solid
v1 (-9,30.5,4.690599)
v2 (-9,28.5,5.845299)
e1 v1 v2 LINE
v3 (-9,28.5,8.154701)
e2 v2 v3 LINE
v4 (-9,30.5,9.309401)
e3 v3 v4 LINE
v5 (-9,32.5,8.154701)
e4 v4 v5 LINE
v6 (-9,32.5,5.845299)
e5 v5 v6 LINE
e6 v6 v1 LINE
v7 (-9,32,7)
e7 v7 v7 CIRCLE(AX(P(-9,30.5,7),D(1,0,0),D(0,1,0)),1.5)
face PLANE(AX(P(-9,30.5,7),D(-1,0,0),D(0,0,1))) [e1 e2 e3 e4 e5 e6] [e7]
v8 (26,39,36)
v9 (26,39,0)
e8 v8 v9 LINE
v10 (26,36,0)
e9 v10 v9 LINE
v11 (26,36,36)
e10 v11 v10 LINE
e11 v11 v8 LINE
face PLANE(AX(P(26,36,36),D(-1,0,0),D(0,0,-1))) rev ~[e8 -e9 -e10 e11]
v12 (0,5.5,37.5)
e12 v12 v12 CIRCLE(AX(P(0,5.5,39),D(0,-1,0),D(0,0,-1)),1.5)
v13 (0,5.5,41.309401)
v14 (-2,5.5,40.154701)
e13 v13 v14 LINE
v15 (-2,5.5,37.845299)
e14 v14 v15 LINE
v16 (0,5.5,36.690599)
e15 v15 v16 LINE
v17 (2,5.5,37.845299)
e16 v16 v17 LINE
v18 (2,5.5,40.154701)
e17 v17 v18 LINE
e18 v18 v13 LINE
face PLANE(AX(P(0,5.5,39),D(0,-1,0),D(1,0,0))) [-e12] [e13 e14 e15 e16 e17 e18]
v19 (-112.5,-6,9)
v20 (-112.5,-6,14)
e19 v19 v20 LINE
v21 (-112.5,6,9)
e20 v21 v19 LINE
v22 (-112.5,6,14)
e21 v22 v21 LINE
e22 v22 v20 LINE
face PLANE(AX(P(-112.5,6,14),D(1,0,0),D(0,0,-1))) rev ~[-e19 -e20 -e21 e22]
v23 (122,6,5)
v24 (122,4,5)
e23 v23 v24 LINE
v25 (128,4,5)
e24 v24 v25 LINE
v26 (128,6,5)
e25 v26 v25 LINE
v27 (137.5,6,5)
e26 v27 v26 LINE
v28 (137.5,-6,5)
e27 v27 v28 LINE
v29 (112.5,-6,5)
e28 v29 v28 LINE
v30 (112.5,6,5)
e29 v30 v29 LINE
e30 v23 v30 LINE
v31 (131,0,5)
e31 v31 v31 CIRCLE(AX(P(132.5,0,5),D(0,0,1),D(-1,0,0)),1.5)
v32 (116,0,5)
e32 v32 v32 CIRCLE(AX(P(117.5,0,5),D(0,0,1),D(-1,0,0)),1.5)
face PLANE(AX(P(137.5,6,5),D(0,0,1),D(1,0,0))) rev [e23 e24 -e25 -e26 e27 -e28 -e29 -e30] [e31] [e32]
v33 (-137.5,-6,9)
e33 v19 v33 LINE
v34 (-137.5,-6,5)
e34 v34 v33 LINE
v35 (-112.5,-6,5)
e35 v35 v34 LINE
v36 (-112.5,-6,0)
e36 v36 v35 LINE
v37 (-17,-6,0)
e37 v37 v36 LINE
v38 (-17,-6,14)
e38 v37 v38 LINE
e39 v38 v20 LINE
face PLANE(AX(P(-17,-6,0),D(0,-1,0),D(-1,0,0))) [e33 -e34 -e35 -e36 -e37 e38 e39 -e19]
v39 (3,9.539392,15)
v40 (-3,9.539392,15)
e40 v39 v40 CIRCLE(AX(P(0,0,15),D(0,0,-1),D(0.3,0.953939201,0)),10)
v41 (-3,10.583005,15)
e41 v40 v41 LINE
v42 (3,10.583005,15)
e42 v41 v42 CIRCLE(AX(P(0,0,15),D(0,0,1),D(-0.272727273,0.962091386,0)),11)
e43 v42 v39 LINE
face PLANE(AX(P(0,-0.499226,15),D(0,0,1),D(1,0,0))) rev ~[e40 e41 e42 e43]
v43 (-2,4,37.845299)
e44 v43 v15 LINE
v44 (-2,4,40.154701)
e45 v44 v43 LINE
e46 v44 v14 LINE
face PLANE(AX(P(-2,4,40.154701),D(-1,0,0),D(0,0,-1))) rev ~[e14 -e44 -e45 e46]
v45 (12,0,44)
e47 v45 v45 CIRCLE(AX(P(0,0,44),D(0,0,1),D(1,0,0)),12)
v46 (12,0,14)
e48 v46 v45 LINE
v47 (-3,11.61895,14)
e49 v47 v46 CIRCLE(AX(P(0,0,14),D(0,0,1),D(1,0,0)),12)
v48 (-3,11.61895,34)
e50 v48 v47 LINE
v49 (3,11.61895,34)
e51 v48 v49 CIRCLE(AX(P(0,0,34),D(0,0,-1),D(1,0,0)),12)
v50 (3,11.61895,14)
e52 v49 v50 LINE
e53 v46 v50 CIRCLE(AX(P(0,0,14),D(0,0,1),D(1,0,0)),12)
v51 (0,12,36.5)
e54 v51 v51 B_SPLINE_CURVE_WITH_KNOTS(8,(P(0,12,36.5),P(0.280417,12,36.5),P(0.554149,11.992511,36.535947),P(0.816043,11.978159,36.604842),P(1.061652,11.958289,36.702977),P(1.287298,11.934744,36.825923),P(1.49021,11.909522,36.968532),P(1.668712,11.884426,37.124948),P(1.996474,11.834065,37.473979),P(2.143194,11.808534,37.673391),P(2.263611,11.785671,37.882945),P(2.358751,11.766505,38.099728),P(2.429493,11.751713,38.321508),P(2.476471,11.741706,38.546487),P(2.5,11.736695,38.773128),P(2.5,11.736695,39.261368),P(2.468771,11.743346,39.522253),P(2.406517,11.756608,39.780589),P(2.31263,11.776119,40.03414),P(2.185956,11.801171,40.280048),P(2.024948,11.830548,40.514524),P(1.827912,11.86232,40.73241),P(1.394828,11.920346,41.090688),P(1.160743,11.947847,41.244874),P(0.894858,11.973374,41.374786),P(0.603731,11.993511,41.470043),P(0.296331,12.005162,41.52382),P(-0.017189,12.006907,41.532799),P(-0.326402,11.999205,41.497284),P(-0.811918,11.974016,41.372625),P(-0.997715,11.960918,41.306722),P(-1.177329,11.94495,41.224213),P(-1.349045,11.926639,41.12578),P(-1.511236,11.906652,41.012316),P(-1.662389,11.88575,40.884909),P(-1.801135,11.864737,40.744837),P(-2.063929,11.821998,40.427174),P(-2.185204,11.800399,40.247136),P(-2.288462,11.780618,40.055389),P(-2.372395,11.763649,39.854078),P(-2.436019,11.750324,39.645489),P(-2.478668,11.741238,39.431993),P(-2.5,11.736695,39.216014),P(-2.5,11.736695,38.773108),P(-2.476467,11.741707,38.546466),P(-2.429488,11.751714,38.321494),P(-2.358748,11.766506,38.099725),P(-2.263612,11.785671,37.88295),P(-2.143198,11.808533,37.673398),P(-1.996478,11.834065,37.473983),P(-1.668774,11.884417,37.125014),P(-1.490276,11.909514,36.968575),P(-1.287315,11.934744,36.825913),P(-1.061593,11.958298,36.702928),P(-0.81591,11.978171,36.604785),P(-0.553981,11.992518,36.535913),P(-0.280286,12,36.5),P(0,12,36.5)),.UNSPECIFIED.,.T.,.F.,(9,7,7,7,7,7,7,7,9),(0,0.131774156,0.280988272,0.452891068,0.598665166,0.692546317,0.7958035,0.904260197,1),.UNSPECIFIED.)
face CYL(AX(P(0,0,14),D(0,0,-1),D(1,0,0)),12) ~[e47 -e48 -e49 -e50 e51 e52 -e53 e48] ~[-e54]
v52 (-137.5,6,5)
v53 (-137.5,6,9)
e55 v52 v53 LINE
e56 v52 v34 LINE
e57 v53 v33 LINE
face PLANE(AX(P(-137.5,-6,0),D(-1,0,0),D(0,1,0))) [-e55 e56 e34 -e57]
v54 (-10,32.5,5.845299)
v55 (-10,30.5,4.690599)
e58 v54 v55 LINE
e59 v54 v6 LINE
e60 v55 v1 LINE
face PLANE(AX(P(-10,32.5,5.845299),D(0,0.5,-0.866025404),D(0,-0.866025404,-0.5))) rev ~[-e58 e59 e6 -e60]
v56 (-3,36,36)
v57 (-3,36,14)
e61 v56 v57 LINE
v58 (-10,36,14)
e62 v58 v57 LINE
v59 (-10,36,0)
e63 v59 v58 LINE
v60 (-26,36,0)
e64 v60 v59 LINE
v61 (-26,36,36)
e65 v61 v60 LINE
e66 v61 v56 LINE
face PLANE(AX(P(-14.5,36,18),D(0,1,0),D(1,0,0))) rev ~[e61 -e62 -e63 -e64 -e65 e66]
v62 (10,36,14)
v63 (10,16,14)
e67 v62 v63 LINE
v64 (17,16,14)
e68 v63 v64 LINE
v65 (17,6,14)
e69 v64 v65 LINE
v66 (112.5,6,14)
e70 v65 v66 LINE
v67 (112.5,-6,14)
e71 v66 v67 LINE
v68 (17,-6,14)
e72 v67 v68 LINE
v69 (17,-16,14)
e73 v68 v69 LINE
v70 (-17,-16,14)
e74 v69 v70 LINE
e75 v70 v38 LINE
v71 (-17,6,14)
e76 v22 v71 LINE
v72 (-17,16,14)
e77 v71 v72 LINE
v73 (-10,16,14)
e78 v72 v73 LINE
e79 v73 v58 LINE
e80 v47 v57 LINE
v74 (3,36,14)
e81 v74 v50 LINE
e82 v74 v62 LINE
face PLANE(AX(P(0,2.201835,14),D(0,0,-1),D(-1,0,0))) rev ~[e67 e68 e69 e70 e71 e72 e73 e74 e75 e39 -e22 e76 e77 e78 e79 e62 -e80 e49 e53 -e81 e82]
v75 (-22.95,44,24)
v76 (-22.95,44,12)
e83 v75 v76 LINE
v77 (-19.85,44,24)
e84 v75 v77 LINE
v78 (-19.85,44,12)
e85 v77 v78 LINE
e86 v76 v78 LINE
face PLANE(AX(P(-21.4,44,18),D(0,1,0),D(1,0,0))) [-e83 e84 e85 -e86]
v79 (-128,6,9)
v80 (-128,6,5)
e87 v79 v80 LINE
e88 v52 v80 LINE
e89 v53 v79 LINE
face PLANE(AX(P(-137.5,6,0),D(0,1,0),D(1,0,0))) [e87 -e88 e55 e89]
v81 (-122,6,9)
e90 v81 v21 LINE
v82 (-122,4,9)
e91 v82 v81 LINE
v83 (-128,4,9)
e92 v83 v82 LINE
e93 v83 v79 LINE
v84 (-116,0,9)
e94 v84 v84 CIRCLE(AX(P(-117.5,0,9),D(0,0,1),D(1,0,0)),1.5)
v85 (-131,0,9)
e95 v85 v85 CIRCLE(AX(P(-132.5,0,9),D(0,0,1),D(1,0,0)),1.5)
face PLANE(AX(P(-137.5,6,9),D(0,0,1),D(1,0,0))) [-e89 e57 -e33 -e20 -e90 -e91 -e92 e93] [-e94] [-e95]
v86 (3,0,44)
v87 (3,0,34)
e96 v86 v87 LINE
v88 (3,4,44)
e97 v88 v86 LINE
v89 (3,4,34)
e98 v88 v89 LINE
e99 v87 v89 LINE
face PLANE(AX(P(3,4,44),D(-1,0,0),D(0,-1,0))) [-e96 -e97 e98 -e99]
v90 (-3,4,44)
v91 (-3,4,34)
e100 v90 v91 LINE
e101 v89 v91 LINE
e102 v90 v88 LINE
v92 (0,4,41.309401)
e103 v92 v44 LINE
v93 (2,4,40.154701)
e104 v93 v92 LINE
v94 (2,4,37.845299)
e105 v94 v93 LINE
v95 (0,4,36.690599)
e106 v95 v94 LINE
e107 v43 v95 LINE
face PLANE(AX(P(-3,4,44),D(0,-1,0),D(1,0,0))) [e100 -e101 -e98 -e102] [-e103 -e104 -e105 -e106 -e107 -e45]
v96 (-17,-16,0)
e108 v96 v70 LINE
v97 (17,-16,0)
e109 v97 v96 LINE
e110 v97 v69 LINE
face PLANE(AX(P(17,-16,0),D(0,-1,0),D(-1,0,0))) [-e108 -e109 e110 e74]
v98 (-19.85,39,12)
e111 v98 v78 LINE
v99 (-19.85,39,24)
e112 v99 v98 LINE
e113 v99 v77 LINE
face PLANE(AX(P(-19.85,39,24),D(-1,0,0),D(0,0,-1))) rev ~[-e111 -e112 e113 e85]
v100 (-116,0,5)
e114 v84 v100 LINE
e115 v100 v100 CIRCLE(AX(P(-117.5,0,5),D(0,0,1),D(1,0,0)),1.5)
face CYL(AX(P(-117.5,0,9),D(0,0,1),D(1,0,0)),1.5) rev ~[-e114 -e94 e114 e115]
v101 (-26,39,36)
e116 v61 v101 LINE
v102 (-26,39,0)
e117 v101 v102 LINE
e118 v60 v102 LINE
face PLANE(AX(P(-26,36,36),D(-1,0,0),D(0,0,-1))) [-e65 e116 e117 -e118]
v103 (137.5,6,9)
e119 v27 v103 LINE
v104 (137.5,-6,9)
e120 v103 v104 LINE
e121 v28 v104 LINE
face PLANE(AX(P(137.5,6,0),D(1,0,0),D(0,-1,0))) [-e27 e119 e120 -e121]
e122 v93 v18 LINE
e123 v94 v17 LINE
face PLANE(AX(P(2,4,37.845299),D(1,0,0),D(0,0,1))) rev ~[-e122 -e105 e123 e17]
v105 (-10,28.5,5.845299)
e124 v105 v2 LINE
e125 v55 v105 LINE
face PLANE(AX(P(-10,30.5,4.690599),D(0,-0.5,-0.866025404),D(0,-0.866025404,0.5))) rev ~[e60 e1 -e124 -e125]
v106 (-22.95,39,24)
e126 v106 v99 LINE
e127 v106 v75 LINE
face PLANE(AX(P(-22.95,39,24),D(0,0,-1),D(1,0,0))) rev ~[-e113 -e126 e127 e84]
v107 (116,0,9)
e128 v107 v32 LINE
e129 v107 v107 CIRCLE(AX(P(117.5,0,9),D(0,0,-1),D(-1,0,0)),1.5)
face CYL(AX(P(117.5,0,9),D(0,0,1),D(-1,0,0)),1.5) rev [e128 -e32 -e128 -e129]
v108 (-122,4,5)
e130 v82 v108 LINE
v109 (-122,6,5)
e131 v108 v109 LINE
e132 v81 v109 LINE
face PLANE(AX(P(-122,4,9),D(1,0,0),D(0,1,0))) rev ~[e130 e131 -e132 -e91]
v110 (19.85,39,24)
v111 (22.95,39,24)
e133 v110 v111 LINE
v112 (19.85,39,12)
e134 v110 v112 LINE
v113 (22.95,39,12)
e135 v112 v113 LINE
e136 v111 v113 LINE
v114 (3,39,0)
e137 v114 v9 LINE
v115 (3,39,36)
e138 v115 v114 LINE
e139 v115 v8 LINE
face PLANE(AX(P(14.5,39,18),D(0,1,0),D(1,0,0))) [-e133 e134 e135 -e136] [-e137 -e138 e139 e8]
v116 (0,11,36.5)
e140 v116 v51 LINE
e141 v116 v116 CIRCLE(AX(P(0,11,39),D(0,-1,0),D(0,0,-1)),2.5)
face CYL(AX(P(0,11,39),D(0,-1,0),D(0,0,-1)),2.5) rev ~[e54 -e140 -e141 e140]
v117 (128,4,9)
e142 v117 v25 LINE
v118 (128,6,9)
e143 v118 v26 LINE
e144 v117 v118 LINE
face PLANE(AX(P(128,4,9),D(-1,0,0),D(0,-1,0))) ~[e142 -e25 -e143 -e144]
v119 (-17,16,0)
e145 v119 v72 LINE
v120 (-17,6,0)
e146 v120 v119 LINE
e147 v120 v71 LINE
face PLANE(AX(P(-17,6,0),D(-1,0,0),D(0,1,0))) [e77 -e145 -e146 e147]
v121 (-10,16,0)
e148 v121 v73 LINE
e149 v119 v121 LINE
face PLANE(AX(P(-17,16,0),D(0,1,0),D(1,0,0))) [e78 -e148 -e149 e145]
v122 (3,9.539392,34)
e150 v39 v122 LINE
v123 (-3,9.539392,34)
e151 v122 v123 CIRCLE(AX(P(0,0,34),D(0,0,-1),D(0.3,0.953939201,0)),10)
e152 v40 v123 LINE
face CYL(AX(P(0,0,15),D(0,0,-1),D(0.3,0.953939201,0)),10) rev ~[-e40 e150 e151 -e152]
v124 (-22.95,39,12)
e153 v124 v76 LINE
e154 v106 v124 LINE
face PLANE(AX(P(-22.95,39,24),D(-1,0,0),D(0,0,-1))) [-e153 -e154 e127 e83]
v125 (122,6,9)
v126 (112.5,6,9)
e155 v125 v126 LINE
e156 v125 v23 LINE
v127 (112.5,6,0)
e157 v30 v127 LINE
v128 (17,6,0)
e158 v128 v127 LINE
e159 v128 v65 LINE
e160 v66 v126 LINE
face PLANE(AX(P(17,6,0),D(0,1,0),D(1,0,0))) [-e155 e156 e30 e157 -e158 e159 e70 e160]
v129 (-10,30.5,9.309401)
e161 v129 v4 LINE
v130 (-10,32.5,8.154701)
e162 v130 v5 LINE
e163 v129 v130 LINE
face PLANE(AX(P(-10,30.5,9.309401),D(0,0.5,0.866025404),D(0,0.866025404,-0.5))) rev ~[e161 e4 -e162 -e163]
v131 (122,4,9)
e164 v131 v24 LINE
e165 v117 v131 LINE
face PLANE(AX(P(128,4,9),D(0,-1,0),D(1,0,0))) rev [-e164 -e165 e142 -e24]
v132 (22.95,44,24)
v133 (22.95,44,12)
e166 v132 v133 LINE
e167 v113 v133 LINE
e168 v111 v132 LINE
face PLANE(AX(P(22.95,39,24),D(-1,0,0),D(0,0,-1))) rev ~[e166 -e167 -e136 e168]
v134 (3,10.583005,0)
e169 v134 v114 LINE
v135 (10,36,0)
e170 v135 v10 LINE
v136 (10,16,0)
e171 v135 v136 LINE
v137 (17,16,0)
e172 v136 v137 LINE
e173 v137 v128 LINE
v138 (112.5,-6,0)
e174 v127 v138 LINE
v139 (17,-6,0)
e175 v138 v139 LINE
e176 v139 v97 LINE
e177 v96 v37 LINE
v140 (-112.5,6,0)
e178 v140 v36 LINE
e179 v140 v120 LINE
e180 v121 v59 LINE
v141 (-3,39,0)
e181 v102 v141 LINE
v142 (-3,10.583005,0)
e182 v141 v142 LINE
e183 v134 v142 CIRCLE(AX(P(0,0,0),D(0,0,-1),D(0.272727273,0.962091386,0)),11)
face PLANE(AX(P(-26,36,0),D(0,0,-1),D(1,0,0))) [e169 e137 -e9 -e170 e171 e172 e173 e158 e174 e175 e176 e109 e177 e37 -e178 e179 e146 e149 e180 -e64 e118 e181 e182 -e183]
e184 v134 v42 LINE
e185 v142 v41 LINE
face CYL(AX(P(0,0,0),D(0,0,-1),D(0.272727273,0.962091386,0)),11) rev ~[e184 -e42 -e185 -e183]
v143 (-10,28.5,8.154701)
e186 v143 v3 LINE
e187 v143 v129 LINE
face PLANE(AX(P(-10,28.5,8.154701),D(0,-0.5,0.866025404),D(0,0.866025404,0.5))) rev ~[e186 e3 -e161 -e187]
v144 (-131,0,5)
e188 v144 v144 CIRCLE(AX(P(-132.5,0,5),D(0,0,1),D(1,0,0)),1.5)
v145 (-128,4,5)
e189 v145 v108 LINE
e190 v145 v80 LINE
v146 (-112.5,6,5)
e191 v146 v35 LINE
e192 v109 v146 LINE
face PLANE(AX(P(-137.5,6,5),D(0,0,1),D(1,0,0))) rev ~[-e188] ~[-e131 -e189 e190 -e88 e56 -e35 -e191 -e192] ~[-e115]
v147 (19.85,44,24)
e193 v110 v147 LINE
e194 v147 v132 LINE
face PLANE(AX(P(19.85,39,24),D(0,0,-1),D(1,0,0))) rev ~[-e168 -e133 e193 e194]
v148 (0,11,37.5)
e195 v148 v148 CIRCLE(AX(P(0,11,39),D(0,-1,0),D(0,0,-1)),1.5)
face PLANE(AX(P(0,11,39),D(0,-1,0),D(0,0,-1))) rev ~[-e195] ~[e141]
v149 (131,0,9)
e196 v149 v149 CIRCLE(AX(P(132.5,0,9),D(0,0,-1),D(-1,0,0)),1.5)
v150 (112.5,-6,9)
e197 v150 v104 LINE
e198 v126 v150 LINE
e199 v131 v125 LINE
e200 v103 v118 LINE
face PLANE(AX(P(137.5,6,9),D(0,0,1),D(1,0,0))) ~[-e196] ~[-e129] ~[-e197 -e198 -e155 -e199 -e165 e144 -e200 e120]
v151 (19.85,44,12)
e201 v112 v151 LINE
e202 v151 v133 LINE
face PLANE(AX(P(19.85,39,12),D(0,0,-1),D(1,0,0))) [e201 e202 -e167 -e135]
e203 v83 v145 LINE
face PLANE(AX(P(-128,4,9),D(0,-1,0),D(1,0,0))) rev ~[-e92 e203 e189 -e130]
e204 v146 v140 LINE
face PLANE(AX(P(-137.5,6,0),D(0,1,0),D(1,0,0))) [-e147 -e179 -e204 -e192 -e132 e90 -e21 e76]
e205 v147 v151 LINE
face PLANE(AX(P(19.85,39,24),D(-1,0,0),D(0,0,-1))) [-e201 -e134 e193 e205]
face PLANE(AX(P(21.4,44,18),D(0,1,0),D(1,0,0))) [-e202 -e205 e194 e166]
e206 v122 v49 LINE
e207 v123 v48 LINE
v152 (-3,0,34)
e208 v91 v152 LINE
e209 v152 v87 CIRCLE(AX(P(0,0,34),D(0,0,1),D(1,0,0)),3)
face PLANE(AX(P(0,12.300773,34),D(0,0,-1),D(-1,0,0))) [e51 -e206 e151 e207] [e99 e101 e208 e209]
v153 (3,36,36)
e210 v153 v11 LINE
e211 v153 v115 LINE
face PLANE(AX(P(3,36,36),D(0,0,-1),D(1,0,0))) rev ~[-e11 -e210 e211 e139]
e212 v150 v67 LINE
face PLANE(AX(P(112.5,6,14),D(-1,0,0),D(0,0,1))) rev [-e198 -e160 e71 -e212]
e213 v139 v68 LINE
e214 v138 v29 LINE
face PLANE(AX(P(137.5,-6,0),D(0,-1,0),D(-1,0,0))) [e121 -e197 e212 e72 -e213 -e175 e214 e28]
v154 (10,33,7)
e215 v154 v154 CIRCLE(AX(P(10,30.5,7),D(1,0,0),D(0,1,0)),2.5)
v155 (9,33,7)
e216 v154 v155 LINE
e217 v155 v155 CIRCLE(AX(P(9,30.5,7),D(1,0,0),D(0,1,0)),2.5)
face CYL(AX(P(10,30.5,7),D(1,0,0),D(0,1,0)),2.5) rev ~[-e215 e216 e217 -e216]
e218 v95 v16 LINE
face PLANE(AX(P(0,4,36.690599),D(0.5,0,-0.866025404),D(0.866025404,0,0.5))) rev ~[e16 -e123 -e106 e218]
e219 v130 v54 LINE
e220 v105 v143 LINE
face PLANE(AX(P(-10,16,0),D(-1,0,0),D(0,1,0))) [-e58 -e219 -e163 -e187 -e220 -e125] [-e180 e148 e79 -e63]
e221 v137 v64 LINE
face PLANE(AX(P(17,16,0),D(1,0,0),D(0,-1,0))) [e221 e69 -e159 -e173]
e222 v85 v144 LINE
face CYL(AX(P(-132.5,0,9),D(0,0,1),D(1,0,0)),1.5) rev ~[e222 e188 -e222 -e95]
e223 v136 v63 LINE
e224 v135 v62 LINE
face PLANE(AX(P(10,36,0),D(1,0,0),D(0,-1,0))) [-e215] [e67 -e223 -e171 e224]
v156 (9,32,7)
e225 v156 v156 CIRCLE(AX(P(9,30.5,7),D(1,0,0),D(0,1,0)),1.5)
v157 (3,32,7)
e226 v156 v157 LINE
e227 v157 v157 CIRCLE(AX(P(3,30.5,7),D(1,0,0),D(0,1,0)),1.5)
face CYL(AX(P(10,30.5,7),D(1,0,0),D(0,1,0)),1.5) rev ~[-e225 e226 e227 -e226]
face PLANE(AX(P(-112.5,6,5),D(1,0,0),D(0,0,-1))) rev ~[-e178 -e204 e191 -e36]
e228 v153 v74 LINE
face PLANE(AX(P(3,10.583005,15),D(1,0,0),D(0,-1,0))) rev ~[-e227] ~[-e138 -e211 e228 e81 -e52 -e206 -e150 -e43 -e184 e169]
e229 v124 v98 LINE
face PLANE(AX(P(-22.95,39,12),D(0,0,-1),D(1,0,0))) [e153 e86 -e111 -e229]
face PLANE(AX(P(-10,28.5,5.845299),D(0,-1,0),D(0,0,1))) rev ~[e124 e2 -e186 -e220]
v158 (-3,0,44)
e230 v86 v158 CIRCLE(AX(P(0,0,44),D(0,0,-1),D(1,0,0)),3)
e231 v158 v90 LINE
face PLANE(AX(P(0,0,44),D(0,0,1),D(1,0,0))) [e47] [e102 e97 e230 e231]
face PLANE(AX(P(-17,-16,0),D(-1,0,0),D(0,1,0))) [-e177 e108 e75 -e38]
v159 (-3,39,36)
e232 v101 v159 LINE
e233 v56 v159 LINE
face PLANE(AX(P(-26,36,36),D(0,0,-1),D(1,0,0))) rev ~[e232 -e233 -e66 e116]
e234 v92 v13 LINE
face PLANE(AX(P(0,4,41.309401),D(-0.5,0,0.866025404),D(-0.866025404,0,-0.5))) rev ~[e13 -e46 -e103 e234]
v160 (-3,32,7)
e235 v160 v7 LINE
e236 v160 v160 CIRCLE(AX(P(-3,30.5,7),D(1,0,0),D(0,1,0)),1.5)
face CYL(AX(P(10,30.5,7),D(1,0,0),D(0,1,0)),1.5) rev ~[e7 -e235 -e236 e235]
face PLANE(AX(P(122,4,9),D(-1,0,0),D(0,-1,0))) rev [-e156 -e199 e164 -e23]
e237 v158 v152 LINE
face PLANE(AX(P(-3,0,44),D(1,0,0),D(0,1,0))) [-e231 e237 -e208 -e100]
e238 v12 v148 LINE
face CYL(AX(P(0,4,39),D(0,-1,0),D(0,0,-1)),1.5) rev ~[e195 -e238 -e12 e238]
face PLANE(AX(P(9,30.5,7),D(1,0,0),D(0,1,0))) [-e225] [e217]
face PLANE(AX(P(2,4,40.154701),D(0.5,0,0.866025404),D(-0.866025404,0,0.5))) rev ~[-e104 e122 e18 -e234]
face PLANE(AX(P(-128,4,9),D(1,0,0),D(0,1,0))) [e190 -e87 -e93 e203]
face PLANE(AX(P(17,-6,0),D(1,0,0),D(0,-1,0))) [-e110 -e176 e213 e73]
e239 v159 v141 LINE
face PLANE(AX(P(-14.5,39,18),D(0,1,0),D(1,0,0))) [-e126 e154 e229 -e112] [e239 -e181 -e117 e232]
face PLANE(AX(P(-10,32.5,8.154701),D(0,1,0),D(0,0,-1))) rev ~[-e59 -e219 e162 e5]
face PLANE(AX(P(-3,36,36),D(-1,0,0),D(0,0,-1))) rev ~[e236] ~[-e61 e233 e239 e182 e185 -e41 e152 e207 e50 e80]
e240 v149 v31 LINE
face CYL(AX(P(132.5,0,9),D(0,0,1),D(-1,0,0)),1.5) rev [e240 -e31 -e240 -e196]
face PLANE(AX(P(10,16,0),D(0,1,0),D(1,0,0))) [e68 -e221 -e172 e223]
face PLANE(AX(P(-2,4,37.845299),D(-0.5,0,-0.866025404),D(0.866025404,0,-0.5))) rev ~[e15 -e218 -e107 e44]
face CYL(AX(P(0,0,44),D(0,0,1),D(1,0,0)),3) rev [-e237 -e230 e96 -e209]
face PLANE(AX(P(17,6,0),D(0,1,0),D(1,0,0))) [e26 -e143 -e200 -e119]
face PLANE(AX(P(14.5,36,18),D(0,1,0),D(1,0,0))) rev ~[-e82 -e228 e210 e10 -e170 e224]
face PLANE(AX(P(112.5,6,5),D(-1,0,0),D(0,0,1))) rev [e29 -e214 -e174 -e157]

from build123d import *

# Parameters (mm, degrees)
BOSS_EXTRUDE1_DEPTH = 14
SKETCH2_R           = 12
BOSS_EXTRUDE2_DEPTH = 30
CUT_EXTRUDE2_DEPTH  = 34
BOSS_EXTRUDE3_START = 19
BOSS_EXTRUDE3_DEPTH = 19
CUT_EXTRUDE3_DEPTH  = 149.789280528
SKETCH10_R          = 1.5
CUT_EXTRUDE5_DEPTH  = 148.87241122
CUT_EXTRUDE6_DEPTH  = 1.5
CUT_EXTRUDE7_REACH  = 160.077
SKETCH12_R          = 1.5
SKETCH13_R          = 2.5
CUT_EXTRUDE8_DEPTH  = 1
CUT_EXTRUDE9_DEPTH  = 1
SKETCH15_W          = 25
SKETCH15_H          = 5
CUT_EXTRUDE11_DEPTH = 148.452534766
CUT_EXTRUDE12_START = -5.5
SKETCH17_R          = 2.5
CUT_EXTRUDE12_DEPTH = 143.055074494
SKETCH18_W          = 23
SKETCH18_H          = 36
BOSS_EXTRUDE7_DEPTH = 3
SKETCH19_W          = 3.1
SKETCH19_H          = 12
BOSS_EXTRUDE8_DEPTH = 5
SKETCH21_R          = 1.5
SKETCH21_W          = 6
SKETCH21_H          = 2
CUT_EXTRUDE13_DEPTH = 149.550496489


with BuildPart() as part:
    # Sketch1 → Boss-Extrude1 (new body)
    with BuildSketch(Plane.XY):
        Polygon((10, 16), (17, 16), (17, 6), (137.5, 6), (137.5, -6), (17, -6), (17, -16), (-17, -16), (-17, -6), (-137.5, -6), (-137.5, 6), (-17, 6), (-17, 16), (-10, 16), (-10, 36), (10, 36), align=None)
    extrude(amount=BOSS_EXTRUDE1_DEPTH)

    # Sketch2 → Boss-Extrude2 (add)
    with BuildSketch(Plane.XY.offset(14)):
        Circle(SKETCH2_R)
    extrude(amount=BOSS_EXTRUDE2_DEPTH)

    # Sketch5 → Cut-Extrude2 (cut)
    with BuildSketch(Plane(origin=(0, 0, 0), x_dir=(-1, 0, 0), z_dir=(0, 0, -1))):
        with BuildLine():
            Line((-3, 36), (-3, 10.583005244))
            ThreePointArc((-3, 10.583005244), (0, -11), (3, 10.583005244))
            Line((3, 10.583005244), (3, 36))
            Line((3, 36), (-3, 36))
        make_face()
    extrude(amount=-CUT_EXTRUDE2_DEPTH, mode=Mode.SUBTRACT)

    # Sketch7 → Boss-Extrude3 (add)
    with BuildSketch(Plane(origin=(0, 0, 34), x_dir=(-1, 0, 0), z_dir=(0, 0, -1)).offset(BOSS_EXTRUDE3_START)):
        with BuildLine():
            Line((-3, 10.583005244), (-3, 9.539392014))
            ThreePointArc((-3, 9.539392014), (0, -10), (3, 9.539392014))
            Line((3, 9.539392014), (3, 10.583005244))
            ThreePointArc((3, 10.583005244), (0, -11), (-3, 10.583005244))
        make_face()
    extrude(amount=-BOSS_EXTRUDE3_DEPTH)

    # Sketch6 → Cut-Extrude3 (cut, through all)
    with BuildSketch(Plane.XY.offset(44)):
        with BuildLine():
            Line((-3, 0), (-3, 4))
            Line((-3, 4), (3, 4))
            Line((3, 4), (3, 0))
            ThreePointArc((3, 0), (0, -3), (-3, 0))
        make_face()
    extrude(amount=-CUT_EXTRUDE3_DEPTH, mode=Mode.SUBTRACT)

    # Sketch10 → Cut-Extrude5 (cut, through all)
    with BuildSketch(Plane(origin=(0, 4, 0), x_dir=(-1, 0, 0), z_dir=(0, -1, 0))):
        with Locations(Location((0, -39, 0), (0, 0, 90))):
            Circle(SKETCH10_R)
    extrude(amount=-CUT_EXTRUDE5_DEPTH, mode=Mode.SUBTRACT)

    # Sketch11 → Cut-Extrude6 (cut)
    with BuildSketch(Plane.XZ.offset(-4)):
        Polygon((2, 37.845299462), (2, 40.154700538), (0, 41.309401077), (-2, 40.154700538), (-2, 37.845299462), (0, 36.690598923), align=None)
    extrude(amount=-CUT_EXTRUDE6_DEPTH, mode=Mode.SUBTRACT)

    # Cut-Extrude7: up to this face of the body (flat: up to its plane)
    cut_extrude7_end = Plane(part.part.faces().sort_by_distance((-10, 26, 7))[0])
    # Sketch12 → Cut-Extrude7 (cut, up to the picked face)
    with BuildSketch(Plane(origin=(10, 0, 0), x_dir=(0, 0, -1), z_dir=(1, 0, 0)), mode=Mode.PRIVATE) as cut_extrude7_sk1:
        with Locations(Location((-7, 30.5, 0), (0, 0, 90))):
            Circle(SKETCH12_R)
    cut_extrude7_tool1 = split(extrude(cut_extrude7_sk1.sketch, amount=-CUT_EXTRUDE7_REACH, mode=Mode.PRIVATE), bisect_by=cut_extrude7_end, keep=Keep.BOTH, mode=Mode.PRIVATE)
    add(cut_extrude7_tool1.solids().sort_by(Axis((10, 30.5, 7), (-1, 0, 0)))[0], mode=Mode.SUBTRACT)

    # Sketch13 → Cut-Extrude8 (cut)
    with BuildSketch(Plane(origin=(10, 0, 0), x_dir=(0, 0, -1), z_dir=(1, 0, 0))):
        with Locations(Location((-7, 30.5, 0), (0, 0, 90))):
            Circle(SKETCH13_R)
    extrude(amount=-CUT_EXTRUDE8_DEPTH, mode=Mode.SUBTRACT)

    # Sketch14 → Cut-Extrude9 (cut)
    with BuildSketch(Plane.ZY.offset(10)):
        Polygon((4.690598923, 30.5), (5.845299462, 28.5), (8.154700538, 28.5), (9.309401077, 30.5), (8.154700538, 32.5), (5.845299462, 32.5), align=None)
    extrude(amount=-CUT_EXTRUDE9_DEPTH, mode=Mode.SUBTRACT)

    # Sketch15 → Cut-Extrude11 (cut, through all)
    with BuildSketch(Plane(origin=(0, 6, 0), x_dir=(1, 0, 0), z_dir=(0, 1, 0))):
        with Locations((-125, -11.5)):
            Rectangle(SKETCH15_W, SKETCH15_H)
        with Locations((-125, -2.5)):
            Rectangle(SKETCH15_W, SKETCH15_H)
    cut_extrude11 = extrude(amount=-CUT_EXTRUDE11_DEPTH, mode=Mode.SUBTRACT)

    # Mirror2: Cut-Extrude11 across plane
    add(cut_extrude11.mirror(Plane(origin=(0, 0, 0), x_dir=(0, 0, 1), z_dir=(1, 0, 0))), mode=Mode.SUBTRACT)

    # Sketch17 → Cut-Extrude12 (cut, through all)
    with BuildSketch(Plane.XZ.offset(-5.5).offset(CUT_EXTRUDE12_START)):
        with Locations(Location((0, 39, 0), (0, 0, 270))):
            Circle(SKETCH17_R)
    extrude(amount=-CUT_EXTRUDE12_DEPTH, mode=Mode.SUBTRACT)

    # Sketch18 → Boss-Extrude7 (add)
    with BuildSketch(Plane(origin=(0, 36, 0), x_dir=(1, 0, 0), z_dir=(0, 1, 0))):
        with Locations((-14.5, -18)):
            Rectangle(SKETCH18_W, SKETCH18_H)
        with Locations((14.5, -18)):
            Rectangle(SKETCH18_W, SKETCH18_H)
    extrude(amount=BOSS_EXTRUDE7_DEPTH)

    # Sketch19 → Boss-Extrude8 (add)
    with BuildSketch(Plane(origin=(0, 39, 0), x_dir=(1, 0, 0), z_dir=(0, 1, 0))):
        with Locations((-21.4, -18)):
            Rectangle(SKETCH19_W, SKETCH19_H)
        with Locations((21.4, -18)):
            Rectangle(SKETCH19_W, SKETCH19_H)
    extrude(amount=BOSS_EXTRUDE8_DEPTH)

    # Sketch21 → Cut-Extrude13 (cut, through all)
    with BuildSketch(Plane.XY.offset(9)):
        with Locations((-132.5, 0)):
            Circle(SKETCH21_R)
        with Locations((-117.5, 0)):
            Circle(SKETCH21_R)
        with Locations((-125, 5)):
            Rectangle(SKETCH21_W, SKETCH21_H)
    cut_extrude13 = extrude(amount=-CUT_EXTRUDE13_DEPTH, mode=Mode.SUBTRACT)

    # Mirror3: Cut-Extrude13 across plane
    add(cut_extrude13.mirror(Plane(origin=(0, 0, 0), x_dir=(0, 0, 1), z_dir=(1, 0, 0))), mode=Mode.SUBTRACT)


solid = part.part
